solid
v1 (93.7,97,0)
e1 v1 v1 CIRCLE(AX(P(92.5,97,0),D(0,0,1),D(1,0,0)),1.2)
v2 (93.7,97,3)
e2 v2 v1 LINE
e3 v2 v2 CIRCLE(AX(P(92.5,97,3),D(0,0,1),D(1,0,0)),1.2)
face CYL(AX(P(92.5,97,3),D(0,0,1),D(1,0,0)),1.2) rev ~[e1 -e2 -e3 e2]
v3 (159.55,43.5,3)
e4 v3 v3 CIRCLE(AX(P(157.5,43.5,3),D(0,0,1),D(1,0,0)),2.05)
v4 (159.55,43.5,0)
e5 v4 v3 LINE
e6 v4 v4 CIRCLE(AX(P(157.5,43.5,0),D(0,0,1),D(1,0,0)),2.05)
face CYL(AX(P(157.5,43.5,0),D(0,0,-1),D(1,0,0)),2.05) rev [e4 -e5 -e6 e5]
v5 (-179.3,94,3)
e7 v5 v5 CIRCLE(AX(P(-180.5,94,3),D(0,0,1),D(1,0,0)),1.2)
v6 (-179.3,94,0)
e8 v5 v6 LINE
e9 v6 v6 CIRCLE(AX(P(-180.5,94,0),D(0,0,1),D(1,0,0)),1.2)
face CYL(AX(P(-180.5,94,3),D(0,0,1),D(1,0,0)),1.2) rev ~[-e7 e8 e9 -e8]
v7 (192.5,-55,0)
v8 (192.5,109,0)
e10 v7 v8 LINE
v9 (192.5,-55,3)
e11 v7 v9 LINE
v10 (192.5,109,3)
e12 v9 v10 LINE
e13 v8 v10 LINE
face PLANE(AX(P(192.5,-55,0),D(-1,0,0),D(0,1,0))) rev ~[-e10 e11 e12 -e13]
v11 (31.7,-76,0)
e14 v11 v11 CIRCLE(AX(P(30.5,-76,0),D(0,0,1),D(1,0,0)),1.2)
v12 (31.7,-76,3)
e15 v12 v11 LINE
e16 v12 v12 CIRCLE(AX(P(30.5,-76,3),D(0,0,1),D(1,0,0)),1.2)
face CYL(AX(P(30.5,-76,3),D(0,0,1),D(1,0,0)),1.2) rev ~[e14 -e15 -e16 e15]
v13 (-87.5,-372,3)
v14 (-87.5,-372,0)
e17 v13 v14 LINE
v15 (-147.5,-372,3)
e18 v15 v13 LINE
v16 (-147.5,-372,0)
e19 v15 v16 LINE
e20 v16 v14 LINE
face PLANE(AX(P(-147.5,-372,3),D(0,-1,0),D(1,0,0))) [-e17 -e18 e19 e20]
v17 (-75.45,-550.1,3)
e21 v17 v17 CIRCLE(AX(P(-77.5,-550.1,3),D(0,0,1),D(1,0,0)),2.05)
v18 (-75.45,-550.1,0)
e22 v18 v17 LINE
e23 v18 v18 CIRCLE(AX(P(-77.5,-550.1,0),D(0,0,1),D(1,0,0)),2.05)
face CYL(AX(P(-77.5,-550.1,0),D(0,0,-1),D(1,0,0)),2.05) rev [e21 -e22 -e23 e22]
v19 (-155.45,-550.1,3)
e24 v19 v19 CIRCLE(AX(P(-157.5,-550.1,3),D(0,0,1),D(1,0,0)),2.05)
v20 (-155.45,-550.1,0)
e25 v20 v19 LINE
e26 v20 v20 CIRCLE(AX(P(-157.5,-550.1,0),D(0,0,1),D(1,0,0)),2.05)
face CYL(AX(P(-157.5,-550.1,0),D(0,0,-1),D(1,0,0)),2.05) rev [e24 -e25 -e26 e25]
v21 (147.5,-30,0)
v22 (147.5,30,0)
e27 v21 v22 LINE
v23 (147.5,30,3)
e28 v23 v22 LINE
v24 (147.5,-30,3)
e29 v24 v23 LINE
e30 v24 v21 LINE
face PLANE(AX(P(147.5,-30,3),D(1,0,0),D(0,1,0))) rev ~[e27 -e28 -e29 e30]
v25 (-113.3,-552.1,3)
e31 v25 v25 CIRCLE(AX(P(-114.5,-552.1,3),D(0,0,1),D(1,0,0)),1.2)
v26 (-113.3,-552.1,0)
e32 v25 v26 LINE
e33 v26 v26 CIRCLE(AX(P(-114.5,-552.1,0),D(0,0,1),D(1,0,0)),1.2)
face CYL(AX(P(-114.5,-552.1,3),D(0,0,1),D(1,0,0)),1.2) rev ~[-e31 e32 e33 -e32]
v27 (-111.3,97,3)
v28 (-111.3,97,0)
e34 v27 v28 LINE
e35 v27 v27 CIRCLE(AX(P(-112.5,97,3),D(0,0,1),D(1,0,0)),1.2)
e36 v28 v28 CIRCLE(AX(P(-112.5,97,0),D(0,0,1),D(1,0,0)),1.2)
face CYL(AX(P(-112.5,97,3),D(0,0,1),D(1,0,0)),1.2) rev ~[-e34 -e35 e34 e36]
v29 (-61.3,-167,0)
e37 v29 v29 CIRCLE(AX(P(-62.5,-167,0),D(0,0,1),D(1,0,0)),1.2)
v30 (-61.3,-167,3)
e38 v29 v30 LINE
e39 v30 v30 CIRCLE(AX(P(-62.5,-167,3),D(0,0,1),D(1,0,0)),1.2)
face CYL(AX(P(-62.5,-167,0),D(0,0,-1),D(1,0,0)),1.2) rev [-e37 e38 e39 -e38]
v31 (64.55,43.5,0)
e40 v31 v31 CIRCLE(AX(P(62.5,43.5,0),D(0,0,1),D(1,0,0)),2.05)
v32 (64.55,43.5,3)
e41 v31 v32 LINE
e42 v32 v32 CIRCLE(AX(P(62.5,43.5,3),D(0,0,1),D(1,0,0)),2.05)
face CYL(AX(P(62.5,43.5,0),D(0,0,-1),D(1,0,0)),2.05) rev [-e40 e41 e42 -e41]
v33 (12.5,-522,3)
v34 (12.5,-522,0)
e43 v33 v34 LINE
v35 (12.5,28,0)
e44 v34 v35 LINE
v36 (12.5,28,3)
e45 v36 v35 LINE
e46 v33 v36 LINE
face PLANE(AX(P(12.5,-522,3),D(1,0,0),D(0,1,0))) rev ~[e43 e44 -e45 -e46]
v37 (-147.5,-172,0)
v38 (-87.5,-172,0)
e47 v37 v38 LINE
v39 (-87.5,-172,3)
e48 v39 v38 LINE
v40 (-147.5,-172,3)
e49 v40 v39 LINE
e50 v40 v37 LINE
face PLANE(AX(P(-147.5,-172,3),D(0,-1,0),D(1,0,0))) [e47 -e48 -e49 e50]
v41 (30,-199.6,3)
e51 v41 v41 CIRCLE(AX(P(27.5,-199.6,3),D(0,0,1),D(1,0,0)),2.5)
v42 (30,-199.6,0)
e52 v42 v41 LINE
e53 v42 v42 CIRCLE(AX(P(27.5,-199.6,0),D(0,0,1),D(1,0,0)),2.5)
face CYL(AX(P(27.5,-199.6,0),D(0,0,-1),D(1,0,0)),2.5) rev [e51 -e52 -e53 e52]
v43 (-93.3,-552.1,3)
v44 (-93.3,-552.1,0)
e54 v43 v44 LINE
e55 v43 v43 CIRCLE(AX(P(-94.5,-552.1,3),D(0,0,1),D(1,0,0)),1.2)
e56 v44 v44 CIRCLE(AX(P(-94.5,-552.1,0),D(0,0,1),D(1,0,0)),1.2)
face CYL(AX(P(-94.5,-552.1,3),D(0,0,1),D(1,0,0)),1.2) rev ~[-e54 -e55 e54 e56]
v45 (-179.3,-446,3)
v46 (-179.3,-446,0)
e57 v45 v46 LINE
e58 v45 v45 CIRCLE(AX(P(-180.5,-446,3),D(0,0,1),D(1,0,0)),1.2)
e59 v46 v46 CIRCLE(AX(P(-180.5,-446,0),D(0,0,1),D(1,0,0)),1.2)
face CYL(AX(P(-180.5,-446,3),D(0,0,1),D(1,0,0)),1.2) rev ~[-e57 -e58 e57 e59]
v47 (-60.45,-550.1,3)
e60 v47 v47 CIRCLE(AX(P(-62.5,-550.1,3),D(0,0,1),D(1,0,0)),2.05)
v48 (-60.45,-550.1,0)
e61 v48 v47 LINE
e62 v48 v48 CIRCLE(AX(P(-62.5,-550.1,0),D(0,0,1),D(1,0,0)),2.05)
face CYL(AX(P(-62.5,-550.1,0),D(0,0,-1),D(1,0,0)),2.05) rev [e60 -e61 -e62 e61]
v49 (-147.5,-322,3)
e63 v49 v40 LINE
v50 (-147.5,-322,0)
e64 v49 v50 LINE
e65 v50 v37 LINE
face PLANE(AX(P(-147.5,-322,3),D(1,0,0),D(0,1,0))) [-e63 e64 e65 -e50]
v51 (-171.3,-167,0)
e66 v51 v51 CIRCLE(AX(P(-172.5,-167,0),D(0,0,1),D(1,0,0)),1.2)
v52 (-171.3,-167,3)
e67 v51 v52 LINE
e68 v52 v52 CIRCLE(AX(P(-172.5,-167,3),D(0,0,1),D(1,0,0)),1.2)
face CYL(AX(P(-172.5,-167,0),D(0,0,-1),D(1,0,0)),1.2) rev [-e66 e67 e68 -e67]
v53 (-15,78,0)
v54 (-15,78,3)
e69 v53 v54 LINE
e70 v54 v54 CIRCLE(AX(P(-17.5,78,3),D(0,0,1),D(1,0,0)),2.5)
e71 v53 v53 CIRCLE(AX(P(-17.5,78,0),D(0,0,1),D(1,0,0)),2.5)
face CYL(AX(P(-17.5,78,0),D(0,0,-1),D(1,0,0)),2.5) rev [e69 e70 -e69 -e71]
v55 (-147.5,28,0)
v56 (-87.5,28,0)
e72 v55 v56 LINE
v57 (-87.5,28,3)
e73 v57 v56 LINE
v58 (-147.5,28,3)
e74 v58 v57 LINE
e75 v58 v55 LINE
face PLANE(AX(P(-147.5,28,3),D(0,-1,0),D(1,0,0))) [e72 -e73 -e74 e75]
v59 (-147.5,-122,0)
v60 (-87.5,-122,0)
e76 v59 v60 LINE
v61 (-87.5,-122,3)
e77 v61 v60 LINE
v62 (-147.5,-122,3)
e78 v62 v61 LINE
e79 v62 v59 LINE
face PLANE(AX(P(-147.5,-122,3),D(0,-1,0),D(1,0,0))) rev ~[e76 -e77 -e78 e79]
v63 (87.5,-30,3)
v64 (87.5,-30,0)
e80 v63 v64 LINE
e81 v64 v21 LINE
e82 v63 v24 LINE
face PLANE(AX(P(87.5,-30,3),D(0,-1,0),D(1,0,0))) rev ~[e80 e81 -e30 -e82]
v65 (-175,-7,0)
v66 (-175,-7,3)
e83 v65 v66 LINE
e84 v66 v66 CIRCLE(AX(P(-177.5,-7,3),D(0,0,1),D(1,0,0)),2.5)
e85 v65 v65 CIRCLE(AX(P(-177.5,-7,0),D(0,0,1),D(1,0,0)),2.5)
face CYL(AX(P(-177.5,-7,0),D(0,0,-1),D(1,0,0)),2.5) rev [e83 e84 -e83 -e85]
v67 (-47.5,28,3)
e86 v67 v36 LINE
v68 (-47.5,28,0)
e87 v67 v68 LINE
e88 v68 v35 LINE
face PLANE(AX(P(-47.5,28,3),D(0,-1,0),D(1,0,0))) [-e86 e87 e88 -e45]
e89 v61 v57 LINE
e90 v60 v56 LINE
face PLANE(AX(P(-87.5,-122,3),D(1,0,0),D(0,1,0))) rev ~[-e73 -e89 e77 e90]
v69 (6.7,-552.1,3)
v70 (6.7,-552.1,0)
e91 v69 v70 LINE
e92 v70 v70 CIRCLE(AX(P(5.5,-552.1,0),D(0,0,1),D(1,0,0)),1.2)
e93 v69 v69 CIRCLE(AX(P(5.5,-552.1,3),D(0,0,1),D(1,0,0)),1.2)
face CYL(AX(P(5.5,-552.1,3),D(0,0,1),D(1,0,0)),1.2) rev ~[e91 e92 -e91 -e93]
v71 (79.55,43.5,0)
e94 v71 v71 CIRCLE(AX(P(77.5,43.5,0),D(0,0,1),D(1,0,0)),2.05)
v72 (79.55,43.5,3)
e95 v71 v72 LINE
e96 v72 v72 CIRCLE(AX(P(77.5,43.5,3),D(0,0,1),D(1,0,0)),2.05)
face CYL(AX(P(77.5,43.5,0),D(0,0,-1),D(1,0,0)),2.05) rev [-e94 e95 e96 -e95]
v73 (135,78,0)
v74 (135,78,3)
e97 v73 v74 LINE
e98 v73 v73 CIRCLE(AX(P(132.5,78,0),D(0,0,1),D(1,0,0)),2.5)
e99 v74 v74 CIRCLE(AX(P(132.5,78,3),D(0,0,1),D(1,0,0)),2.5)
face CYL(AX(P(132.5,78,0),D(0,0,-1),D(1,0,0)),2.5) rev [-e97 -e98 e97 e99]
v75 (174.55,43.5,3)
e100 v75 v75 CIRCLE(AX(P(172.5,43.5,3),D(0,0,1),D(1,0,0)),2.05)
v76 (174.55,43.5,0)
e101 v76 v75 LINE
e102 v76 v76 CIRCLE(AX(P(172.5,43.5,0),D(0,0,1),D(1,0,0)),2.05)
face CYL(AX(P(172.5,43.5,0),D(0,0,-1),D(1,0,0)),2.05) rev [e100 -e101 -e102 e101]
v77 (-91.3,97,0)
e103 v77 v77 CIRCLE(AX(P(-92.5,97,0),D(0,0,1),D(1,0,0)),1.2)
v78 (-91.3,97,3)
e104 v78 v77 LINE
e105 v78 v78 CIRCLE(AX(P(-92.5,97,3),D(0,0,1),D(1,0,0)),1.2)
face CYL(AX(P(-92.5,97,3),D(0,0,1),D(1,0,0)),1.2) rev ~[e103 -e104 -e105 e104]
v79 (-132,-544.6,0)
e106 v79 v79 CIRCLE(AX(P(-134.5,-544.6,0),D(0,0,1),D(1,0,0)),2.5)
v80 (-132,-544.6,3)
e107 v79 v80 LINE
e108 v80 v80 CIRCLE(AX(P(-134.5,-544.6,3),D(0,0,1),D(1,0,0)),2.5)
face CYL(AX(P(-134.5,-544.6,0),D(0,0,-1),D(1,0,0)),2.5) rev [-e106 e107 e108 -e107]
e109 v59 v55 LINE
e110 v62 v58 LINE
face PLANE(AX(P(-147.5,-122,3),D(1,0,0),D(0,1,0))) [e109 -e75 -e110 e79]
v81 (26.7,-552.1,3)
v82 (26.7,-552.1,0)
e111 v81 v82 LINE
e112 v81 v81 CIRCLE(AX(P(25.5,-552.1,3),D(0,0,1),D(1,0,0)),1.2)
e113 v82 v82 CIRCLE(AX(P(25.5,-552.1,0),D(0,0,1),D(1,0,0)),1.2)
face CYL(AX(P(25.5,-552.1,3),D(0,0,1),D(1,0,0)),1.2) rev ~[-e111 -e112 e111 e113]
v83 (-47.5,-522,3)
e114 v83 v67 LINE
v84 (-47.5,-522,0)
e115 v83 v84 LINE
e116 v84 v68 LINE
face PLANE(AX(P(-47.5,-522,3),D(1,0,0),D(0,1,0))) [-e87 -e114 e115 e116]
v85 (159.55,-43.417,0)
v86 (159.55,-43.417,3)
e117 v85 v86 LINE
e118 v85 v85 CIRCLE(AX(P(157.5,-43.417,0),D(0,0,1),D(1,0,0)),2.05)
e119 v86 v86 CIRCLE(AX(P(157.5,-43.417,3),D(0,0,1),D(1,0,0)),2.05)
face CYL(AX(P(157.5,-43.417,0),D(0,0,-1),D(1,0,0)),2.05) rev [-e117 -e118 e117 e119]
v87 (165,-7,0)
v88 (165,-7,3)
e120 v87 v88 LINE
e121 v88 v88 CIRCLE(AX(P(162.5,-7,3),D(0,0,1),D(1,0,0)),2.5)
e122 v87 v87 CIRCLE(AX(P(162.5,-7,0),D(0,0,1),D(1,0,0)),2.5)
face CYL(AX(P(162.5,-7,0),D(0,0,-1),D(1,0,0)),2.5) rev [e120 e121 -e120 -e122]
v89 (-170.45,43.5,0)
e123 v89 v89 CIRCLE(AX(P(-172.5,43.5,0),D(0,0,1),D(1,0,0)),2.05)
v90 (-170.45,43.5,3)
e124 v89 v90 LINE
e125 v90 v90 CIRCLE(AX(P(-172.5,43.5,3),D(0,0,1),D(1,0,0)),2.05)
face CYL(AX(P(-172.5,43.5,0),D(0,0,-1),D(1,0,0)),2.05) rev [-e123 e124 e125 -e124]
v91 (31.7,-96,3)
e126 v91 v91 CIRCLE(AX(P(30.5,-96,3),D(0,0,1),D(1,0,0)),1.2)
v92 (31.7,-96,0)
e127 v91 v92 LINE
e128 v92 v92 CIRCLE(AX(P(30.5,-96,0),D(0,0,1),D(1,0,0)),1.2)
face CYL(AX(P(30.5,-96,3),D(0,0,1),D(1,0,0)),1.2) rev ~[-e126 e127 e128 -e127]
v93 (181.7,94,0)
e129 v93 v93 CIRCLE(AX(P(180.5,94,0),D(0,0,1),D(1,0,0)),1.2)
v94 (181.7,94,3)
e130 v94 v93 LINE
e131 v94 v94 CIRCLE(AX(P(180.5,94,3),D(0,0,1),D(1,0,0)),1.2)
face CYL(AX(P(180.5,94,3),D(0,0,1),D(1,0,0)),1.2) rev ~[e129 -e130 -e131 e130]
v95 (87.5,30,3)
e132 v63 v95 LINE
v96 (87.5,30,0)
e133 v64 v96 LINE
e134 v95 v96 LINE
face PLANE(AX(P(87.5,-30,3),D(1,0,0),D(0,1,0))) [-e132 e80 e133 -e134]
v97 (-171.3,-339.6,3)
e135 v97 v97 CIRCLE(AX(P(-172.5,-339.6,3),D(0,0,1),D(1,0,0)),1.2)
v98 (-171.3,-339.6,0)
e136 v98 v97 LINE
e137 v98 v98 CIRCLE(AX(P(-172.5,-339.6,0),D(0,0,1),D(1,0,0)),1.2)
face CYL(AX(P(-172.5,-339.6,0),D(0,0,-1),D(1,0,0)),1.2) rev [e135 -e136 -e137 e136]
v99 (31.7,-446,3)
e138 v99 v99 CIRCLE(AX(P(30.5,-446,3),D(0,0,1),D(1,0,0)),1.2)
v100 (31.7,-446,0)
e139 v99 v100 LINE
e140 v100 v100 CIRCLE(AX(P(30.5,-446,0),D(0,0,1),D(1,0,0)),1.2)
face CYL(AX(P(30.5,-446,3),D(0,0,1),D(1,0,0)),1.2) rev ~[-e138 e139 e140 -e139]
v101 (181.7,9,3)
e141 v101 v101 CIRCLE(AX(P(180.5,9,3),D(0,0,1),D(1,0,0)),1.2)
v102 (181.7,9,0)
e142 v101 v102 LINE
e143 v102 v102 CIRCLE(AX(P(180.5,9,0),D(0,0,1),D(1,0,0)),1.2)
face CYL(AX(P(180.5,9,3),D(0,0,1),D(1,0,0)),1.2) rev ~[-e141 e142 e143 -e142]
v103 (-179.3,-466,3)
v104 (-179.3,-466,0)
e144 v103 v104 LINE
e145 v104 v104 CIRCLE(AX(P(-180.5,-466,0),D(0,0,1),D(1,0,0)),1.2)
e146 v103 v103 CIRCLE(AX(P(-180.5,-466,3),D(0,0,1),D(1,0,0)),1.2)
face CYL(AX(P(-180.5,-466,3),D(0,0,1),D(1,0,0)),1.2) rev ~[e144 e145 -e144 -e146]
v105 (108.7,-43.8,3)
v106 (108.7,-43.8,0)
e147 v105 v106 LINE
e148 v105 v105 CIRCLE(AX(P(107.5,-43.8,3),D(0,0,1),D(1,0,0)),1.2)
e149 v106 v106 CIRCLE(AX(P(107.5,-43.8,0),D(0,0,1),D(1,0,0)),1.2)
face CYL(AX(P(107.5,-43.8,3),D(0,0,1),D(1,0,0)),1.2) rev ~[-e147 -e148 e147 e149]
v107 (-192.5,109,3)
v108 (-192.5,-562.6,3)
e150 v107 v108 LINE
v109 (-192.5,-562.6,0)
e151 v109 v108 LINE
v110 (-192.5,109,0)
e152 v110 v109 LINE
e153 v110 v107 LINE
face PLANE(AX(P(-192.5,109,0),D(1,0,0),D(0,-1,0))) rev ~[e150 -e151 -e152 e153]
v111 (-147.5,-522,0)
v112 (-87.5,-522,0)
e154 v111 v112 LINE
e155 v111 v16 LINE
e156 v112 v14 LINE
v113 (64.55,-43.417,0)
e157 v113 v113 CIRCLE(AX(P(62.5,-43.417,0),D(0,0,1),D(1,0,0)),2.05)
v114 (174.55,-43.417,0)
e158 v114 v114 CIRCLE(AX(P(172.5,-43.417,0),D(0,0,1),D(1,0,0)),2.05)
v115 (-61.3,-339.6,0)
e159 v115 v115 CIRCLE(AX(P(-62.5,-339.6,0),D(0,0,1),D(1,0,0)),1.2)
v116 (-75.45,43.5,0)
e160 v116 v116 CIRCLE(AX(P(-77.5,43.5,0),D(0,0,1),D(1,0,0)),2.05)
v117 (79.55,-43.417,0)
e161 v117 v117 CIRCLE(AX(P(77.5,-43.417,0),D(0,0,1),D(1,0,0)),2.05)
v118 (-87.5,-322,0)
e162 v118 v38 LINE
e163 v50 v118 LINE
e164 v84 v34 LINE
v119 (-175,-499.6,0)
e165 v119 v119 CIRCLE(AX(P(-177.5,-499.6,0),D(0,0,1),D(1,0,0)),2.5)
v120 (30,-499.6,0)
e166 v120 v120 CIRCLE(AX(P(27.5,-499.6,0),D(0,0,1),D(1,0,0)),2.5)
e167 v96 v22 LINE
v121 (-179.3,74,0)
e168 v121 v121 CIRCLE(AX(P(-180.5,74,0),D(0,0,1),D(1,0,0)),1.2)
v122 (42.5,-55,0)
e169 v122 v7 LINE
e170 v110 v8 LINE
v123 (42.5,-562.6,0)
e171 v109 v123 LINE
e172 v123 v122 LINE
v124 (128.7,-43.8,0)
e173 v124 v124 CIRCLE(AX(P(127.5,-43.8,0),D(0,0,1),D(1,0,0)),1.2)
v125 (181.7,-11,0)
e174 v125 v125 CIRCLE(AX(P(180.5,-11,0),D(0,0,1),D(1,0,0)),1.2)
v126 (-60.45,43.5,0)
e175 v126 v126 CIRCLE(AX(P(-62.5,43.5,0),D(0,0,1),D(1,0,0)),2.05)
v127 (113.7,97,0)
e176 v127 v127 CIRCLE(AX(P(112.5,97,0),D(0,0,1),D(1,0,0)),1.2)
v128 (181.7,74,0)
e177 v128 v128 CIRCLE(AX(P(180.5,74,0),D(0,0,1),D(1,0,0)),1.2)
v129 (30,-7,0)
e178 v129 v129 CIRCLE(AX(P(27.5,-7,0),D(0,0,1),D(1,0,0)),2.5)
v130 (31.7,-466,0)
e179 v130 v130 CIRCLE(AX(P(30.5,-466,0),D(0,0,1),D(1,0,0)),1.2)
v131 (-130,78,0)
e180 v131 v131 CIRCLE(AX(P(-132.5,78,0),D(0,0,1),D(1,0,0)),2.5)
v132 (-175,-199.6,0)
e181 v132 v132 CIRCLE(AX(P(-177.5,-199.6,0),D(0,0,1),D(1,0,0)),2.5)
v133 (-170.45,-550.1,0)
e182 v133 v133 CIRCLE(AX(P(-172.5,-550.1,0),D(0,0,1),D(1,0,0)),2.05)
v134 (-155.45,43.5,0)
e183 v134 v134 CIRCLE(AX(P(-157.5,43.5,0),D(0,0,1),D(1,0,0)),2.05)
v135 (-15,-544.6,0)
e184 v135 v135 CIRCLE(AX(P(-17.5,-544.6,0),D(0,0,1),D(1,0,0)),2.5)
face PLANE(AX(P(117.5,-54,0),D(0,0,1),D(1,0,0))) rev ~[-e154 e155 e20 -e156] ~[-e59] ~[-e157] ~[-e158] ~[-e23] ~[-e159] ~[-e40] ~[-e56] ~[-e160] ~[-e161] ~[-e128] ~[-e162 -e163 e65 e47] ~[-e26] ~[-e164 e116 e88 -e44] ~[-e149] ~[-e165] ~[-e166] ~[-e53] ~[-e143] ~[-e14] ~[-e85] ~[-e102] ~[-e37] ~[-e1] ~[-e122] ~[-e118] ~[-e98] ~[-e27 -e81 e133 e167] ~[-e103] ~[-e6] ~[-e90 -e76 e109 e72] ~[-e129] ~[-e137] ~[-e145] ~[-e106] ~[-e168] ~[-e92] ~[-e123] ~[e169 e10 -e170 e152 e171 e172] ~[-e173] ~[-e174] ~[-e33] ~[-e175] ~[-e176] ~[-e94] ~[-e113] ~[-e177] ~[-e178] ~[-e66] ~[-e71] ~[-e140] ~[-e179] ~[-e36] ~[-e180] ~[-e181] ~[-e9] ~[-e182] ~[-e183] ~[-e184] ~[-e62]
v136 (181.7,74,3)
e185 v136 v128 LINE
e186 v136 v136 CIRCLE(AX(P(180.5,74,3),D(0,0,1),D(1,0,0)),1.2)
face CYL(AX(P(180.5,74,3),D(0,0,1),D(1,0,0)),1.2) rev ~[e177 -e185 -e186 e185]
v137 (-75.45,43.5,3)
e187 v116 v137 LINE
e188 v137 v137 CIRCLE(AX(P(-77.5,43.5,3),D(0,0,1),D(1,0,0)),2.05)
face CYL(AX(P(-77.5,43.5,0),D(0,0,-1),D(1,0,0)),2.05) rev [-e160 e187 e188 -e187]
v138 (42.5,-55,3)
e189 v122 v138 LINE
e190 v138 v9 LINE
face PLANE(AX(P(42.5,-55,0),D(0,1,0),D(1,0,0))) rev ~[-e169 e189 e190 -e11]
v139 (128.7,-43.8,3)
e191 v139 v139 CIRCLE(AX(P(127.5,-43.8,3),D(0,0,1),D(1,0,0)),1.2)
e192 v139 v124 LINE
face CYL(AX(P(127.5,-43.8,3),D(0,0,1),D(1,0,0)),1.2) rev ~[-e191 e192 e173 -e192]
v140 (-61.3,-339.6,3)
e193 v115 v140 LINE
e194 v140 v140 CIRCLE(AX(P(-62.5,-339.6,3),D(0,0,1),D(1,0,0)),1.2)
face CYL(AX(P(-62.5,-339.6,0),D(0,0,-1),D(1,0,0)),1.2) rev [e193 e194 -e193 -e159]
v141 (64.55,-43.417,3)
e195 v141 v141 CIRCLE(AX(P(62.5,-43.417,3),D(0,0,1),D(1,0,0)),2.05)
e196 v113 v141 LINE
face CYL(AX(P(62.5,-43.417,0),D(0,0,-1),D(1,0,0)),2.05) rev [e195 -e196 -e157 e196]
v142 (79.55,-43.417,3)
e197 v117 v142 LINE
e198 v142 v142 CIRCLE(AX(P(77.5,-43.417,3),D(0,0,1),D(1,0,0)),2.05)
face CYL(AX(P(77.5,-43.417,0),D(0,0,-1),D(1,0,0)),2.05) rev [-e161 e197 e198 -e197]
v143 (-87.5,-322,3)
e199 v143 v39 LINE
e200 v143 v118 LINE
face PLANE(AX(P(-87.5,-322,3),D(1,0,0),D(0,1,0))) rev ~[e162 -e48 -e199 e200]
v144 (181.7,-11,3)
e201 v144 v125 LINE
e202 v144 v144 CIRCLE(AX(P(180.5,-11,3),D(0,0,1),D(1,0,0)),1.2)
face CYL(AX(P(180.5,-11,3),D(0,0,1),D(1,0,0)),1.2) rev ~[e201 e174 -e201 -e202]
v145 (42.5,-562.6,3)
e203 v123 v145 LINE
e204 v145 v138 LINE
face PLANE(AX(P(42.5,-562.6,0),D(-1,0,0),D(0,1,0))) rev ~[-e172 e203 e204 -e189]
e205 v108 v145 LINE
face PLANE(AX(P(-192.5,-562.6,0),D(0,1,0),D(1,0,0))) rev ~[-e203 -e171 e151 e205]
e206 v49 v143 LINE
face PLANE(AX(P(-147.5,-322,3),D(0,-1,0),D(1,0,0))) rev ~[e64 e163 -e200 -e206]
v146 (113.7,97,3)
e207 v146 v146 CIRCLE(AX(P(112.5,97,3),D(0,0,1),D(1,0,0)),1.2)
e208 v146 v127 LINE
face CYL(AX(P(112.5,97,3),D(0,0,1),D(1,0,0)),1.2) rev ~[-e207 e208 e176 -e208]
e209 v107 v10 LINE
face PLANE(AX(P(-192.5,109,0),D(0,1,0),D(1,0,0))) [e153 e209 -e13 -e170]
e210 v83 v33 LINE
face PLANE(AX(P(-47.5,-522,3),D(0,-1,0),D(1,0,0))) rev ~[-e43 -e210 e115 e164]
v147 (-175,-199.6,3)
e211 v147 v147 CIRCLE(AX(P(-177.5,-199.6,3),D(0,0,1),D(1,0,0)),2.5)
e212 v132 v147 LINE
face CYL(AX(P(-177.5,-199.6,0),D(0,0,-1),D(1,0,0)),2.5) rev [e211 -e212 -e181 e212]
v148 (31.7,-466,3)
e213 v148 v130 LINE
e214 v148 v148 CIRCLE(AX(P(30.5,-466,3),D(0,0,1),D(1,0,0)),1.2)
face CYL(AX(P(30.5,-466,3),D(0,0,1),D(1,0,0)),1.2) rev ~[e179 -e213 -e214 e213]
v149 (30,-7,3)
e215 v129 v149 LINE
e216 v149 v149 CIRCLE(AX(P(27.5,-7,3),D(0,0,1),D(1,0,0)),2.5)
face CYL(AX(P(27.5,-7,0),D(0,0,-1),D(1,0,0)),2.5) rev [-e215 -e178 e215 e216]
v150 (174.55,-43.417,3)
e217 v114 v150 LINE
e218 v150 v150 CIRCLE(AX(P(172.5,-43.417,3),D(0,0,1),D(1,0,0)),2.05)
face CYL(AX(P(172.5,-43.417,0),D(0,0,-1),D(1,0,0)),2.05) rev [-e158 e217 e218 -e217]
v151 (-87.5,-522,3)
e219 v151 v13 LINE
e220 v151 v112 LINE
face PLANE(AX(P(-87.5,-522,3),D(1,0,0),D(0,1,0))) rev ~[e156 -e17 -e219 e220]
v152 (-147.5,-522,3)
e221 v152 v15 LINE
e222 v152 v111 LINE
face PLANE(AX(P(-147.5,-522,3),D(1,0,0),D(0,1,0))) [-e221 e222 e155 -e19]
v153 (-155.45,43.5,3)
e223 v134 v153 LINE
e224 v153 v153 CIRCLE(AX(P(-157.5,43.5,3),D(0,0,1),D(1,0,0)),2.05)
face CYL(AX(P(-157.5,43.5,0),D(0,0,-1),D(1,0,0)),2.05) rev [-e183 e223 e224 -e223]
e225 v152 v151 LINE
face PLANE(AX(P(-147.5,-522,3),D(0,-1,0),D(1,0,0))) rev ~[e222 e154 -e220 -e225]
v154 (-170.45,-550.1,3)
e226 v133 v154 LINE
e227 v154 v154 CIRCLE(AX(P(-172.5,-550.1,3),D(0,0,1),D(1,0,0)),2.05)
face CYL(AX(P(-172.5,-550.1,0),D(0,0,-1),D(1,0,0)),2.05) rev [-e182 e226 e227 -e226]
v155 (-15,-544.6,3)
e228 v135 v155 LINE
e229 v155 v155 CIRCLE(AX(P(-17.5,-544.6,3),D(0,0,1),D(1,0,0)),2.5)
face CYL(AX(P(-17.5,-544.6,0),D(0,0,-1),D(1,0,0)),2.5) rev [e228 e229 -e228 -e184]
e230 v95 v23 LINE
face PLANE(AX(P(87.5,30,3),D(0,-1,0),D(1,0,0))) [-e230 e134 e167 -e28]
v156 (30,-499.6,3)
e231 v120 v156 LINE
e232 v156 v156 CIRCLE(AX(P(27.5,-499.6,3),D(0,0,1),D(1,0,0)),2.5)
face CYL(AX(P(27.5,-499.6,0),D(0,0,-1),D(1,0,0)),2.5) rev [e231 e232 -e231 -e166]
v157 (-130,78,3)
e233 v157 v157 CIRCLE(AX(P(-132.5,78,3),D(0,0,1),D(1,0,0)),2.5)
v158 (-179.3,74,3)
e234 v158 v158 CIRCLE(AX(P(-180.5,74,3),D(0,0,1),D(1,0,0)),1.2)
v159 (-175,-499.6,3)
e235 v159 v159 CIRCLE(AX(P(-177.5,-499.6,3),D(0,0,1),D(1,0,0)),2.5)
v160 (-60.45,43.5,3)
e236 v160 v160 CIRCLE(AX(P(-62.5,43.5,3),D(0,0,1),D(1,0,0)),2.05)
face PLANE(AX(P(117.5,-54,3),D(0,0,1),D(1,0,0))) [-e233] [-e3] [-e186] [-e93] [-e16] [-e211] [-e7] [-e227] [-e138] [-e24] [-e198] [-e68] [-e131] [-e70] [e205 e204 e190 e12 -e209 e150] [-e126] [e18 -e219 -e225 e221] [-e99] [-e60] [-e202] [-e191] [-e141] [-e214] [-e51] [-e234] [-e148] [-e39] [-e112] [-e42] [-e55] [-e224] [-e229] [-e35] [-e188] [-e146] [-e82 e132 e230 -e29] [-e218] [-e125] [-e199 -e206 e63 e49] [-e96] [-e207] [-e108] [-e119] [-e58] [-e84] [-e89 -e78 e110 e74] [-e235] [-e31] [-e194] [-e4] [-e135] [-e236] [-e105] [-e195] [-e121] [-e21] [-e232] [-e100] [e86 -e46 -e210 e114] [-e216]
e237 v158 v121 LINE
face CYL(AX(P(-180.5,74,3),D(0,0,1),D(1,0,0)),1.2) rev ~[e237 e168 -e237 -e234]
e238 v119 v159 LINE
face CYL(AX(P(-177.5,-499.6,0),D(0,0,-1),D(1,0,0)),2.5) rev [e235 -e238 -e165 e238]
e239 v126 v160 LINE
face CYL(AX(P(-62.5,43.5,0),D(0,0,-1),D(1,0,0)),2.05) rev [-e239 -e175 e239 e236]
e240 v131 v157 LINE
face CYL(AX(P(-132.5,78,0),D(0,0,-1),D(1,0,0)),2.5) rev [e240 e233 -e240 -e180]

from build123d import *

# Parameters (mm, degrees)
F0_W     = 150
F0_H     = 2
F0_R     = 2.5
F0_R_2   = 2.05
F0_R_3   = 1.2
F0_W_2   = 385
F0_H_2   = 56
F0_W_3   = 235
F0_H_3   = 3
F1_DEPTH = 3
F2_W     = 60
F2_H     = 150
F2_H_2   = 60
F2_H_3   = 550
F3_DEPTH = 25
F4_R     = 1.2
F5_DEPTH = 25


with BuildPart() as f1:
    # F0 (on Top) → F1 (new body)
    with BuildSketch(Plane.XY):
        with Locations((117.5, -54)):
            Rectangle(F0_W, F0_H)
        Polygon((42.5, -53), (192.5, -53), (192.5, 53), (-192.5, 53), (-192.5, -53), align=None)
        with Locations((-177.5, -7)):
            Circle(F0_R, mode=Mode.SUBTRACT)
        with Locations((-172.5, 43.5)):
            Circle(F0_R_2, mode=Mode.SUBTRACT)
        with Locations((-157.5, 43.5)):
            Circle(F0_R_2, mode=Mode.SUBTRACT)
        with Locations((-77.5, 43.5)):
            Circle(F0_R_2, mode=Mode.SUBTRACT)
        with Locations((-62.5, 43.5)):
            Circle(F0_R_2, mode=Mode.SUBTRACT)
        with Locations((27.5, -7)):
            Circle(F0_R, mode=Mode.SUBTRACT)
        with Locations((62.5, -43.417)):
            Circle(F0_R_2, mode=Mode.SUBTRACT)
        with Locations((77.5, -43.417)):
            Circle(F0_R_2, mode=Mode.SUBTRACT)
        with Locations((62.5, 43.5)):
            Circle(F0_R_2, mode=Mode.SUBTRACT)
        with Locations((77.5, 43.5)):
            Circle(F0_R_2, mode=Mode.SUBTRACT)
        with Locations((157.5, -43.417)):
            Circle(F0_R_2, mode=Mode.SUBTRACT)
        with Locations((172.5, -43.417)):
            Circle(F0_R_2, mode=Mode.SUBTRACT)
        with Locations((162.5, -7)):
            Circle(F0_R, mode=Mode.SUBTRACT)
        with Locations((157.5, 43.5)):
            Circle(F0_R_2, mode=Mode.SUBTRACT)
        with Locations((172.5, 43.5)):
            Circle(F0_R_2, mode=Mode.SUBTRACT)
        Polygon((42.5, -55), (42.5, -53), (-192.5, -53), (-192.5, -559.6), (42.5, -559.6), align=None)
        with Locations((-172.5, -550.1)):
            Circle(F0_R_2, mode=Mode.SUBTRACT)
        with Locations((-157.5, -550.1)):
            Circle(F0_R_2, mode=Mode.SUBTRACT)
        with Locations((-177.5, -499.6)):
            Circle(F0_R, mode=Mode.SUBTRACT)
        with Locations((-134.5, -544.6)):
            Circle(F0_R, mode=Mode.SUBTRACT)
        with Locations((-77.5, -550.1)):
            Circle(F0_R_2, mode=Mode.SUBTRACT)
        with Locations((-62.5, -550.1)):
            Circle(F0_R_2, mode=Mode.SUBTRACT)
        with Locations((-17.5, -544.6)):
            Circle(F0_R, mode=Mode.SUBTRACT)
        with Locations((-172.5, -339.6)):
            Circle(F0_R_3, mode=Mode.SUBTRACT)
        with Locations((-62.5, -339.6)):
            Circle(F0_R_3, mode=Mode.SUBTRACT)
        with Locations((27.5, -499.6)):
            Circle(F0_R, mode=Mode.SUBTRACT)
        with Locations((-177.5, -199.6)):
            Circle(F0_R, mode=Mode.SUBTRACT)
        with Locations((-172.5, -167)):
            Circle(F0_R_3, mode=Mode.SUBTRACT)
        with Locations((-62.5, -167)):
            Circle(F0_R_3, mode=Mode.SUBTRACT)
        with Locations((27.5, -199.6)):
            Circle(F0_R, mode=Mode.SUBTRACT)
        with Locations((0, 81)):
            Rectangle(F0_W_2, F0_H_2)
        with Locations((-132.5, 78)):
            Circle(F0_R, mode=Mode.SUBTRACT)
        with Locations((-17.5, 78)):
            Circle(F0_R, mode=Mode.SUBTRACT)
        with Locations((132.5, 78)):
            Circle(F0_R, mode=Mode.SUBTRACT)
        with Locations((-75, -561.1)):
            Rectangle(F0_W_3, F0_H_3)
    extrude(amount=F1_DEPTH)

    # F2 (on face) → F3 (cut)
    with BuildSketch(Plane.XY.offset(3)):
        with Locations((-117.5, -47)):
            Rectangle(F2_W, F2_H)
        with Locations((-117.5, -247)):
            Rectangle(F2_W, F2_H)
        with Locations((117.5, 0)):
            Rectangle(F2_W, F2_H_2)
        with Locations((-117.5, -447)):
            Rectangle(F2_W, F2_H)
        with Locations((-17.5, -247)):
            Rectangle(F2_W, F2_H_3)
    extrude(amount=-F3_DEPTH, mode=Mode.SUBTRACT)

    # F4 (on face) → F5 (cut)
    with BuildSketch(Plane.XY.offset(3)):
        with Locations((-180.5, 94)):
            Circle(F4_R)
        with Locations((-180.5, 74)):
            Circle(F4_R)
        with Locations((-180.5, -446)):
            Circle(F4_R)
        with Locations((-180.5, -466)):
            Circle(F4_R)
        with Locations((30.5, -446)):
            Circle(F4_R)
        with Locations((30.5, -466)):
            Circle(F4_R)
        with Locations((30.5, -76)):
            Circle(F4_R)
        with Locations((30.5, -96)):
            Circle(F4_R)
        with Locations((180.5, 94)):
            Circle(F4_R)
        with Locations((180.5, 74)):
            Circle(F4_R)
        with Locations((180.5, 9)):
            Circle(F4_R)
        with Locations((180.5, -11)):
            Circle(F4_R)
        with Locations((-114.5, -552.1)):
            Circle(F4_R)
        with Locations((-94.5, -552.1)):
            Circle(F4_R)
        with Locations((5.5, -552.1)):
            Circle(F4_R)
        with Locations((25.5, -552.1)):
            Circle(F4_R)
        with Locations((-112.5, 97)):
            Circle(F4_R)
        with Locations((-92.5, 97)):
            Circle(F4_R)
        with Locations((92.5, 97)):
            Circle(F4_R)
        with Locations((112.5, 97)):
            Circle(F4_R)
        with Locations((107.5, -43.8)):
            Circle(F4_R)
        with Locations((127.5, -43.8)):
            Circle(F4_R)
    extrude(amount=-F5_DEPTH, mode=Mode.SUBTRACT)


solid = f1.part
